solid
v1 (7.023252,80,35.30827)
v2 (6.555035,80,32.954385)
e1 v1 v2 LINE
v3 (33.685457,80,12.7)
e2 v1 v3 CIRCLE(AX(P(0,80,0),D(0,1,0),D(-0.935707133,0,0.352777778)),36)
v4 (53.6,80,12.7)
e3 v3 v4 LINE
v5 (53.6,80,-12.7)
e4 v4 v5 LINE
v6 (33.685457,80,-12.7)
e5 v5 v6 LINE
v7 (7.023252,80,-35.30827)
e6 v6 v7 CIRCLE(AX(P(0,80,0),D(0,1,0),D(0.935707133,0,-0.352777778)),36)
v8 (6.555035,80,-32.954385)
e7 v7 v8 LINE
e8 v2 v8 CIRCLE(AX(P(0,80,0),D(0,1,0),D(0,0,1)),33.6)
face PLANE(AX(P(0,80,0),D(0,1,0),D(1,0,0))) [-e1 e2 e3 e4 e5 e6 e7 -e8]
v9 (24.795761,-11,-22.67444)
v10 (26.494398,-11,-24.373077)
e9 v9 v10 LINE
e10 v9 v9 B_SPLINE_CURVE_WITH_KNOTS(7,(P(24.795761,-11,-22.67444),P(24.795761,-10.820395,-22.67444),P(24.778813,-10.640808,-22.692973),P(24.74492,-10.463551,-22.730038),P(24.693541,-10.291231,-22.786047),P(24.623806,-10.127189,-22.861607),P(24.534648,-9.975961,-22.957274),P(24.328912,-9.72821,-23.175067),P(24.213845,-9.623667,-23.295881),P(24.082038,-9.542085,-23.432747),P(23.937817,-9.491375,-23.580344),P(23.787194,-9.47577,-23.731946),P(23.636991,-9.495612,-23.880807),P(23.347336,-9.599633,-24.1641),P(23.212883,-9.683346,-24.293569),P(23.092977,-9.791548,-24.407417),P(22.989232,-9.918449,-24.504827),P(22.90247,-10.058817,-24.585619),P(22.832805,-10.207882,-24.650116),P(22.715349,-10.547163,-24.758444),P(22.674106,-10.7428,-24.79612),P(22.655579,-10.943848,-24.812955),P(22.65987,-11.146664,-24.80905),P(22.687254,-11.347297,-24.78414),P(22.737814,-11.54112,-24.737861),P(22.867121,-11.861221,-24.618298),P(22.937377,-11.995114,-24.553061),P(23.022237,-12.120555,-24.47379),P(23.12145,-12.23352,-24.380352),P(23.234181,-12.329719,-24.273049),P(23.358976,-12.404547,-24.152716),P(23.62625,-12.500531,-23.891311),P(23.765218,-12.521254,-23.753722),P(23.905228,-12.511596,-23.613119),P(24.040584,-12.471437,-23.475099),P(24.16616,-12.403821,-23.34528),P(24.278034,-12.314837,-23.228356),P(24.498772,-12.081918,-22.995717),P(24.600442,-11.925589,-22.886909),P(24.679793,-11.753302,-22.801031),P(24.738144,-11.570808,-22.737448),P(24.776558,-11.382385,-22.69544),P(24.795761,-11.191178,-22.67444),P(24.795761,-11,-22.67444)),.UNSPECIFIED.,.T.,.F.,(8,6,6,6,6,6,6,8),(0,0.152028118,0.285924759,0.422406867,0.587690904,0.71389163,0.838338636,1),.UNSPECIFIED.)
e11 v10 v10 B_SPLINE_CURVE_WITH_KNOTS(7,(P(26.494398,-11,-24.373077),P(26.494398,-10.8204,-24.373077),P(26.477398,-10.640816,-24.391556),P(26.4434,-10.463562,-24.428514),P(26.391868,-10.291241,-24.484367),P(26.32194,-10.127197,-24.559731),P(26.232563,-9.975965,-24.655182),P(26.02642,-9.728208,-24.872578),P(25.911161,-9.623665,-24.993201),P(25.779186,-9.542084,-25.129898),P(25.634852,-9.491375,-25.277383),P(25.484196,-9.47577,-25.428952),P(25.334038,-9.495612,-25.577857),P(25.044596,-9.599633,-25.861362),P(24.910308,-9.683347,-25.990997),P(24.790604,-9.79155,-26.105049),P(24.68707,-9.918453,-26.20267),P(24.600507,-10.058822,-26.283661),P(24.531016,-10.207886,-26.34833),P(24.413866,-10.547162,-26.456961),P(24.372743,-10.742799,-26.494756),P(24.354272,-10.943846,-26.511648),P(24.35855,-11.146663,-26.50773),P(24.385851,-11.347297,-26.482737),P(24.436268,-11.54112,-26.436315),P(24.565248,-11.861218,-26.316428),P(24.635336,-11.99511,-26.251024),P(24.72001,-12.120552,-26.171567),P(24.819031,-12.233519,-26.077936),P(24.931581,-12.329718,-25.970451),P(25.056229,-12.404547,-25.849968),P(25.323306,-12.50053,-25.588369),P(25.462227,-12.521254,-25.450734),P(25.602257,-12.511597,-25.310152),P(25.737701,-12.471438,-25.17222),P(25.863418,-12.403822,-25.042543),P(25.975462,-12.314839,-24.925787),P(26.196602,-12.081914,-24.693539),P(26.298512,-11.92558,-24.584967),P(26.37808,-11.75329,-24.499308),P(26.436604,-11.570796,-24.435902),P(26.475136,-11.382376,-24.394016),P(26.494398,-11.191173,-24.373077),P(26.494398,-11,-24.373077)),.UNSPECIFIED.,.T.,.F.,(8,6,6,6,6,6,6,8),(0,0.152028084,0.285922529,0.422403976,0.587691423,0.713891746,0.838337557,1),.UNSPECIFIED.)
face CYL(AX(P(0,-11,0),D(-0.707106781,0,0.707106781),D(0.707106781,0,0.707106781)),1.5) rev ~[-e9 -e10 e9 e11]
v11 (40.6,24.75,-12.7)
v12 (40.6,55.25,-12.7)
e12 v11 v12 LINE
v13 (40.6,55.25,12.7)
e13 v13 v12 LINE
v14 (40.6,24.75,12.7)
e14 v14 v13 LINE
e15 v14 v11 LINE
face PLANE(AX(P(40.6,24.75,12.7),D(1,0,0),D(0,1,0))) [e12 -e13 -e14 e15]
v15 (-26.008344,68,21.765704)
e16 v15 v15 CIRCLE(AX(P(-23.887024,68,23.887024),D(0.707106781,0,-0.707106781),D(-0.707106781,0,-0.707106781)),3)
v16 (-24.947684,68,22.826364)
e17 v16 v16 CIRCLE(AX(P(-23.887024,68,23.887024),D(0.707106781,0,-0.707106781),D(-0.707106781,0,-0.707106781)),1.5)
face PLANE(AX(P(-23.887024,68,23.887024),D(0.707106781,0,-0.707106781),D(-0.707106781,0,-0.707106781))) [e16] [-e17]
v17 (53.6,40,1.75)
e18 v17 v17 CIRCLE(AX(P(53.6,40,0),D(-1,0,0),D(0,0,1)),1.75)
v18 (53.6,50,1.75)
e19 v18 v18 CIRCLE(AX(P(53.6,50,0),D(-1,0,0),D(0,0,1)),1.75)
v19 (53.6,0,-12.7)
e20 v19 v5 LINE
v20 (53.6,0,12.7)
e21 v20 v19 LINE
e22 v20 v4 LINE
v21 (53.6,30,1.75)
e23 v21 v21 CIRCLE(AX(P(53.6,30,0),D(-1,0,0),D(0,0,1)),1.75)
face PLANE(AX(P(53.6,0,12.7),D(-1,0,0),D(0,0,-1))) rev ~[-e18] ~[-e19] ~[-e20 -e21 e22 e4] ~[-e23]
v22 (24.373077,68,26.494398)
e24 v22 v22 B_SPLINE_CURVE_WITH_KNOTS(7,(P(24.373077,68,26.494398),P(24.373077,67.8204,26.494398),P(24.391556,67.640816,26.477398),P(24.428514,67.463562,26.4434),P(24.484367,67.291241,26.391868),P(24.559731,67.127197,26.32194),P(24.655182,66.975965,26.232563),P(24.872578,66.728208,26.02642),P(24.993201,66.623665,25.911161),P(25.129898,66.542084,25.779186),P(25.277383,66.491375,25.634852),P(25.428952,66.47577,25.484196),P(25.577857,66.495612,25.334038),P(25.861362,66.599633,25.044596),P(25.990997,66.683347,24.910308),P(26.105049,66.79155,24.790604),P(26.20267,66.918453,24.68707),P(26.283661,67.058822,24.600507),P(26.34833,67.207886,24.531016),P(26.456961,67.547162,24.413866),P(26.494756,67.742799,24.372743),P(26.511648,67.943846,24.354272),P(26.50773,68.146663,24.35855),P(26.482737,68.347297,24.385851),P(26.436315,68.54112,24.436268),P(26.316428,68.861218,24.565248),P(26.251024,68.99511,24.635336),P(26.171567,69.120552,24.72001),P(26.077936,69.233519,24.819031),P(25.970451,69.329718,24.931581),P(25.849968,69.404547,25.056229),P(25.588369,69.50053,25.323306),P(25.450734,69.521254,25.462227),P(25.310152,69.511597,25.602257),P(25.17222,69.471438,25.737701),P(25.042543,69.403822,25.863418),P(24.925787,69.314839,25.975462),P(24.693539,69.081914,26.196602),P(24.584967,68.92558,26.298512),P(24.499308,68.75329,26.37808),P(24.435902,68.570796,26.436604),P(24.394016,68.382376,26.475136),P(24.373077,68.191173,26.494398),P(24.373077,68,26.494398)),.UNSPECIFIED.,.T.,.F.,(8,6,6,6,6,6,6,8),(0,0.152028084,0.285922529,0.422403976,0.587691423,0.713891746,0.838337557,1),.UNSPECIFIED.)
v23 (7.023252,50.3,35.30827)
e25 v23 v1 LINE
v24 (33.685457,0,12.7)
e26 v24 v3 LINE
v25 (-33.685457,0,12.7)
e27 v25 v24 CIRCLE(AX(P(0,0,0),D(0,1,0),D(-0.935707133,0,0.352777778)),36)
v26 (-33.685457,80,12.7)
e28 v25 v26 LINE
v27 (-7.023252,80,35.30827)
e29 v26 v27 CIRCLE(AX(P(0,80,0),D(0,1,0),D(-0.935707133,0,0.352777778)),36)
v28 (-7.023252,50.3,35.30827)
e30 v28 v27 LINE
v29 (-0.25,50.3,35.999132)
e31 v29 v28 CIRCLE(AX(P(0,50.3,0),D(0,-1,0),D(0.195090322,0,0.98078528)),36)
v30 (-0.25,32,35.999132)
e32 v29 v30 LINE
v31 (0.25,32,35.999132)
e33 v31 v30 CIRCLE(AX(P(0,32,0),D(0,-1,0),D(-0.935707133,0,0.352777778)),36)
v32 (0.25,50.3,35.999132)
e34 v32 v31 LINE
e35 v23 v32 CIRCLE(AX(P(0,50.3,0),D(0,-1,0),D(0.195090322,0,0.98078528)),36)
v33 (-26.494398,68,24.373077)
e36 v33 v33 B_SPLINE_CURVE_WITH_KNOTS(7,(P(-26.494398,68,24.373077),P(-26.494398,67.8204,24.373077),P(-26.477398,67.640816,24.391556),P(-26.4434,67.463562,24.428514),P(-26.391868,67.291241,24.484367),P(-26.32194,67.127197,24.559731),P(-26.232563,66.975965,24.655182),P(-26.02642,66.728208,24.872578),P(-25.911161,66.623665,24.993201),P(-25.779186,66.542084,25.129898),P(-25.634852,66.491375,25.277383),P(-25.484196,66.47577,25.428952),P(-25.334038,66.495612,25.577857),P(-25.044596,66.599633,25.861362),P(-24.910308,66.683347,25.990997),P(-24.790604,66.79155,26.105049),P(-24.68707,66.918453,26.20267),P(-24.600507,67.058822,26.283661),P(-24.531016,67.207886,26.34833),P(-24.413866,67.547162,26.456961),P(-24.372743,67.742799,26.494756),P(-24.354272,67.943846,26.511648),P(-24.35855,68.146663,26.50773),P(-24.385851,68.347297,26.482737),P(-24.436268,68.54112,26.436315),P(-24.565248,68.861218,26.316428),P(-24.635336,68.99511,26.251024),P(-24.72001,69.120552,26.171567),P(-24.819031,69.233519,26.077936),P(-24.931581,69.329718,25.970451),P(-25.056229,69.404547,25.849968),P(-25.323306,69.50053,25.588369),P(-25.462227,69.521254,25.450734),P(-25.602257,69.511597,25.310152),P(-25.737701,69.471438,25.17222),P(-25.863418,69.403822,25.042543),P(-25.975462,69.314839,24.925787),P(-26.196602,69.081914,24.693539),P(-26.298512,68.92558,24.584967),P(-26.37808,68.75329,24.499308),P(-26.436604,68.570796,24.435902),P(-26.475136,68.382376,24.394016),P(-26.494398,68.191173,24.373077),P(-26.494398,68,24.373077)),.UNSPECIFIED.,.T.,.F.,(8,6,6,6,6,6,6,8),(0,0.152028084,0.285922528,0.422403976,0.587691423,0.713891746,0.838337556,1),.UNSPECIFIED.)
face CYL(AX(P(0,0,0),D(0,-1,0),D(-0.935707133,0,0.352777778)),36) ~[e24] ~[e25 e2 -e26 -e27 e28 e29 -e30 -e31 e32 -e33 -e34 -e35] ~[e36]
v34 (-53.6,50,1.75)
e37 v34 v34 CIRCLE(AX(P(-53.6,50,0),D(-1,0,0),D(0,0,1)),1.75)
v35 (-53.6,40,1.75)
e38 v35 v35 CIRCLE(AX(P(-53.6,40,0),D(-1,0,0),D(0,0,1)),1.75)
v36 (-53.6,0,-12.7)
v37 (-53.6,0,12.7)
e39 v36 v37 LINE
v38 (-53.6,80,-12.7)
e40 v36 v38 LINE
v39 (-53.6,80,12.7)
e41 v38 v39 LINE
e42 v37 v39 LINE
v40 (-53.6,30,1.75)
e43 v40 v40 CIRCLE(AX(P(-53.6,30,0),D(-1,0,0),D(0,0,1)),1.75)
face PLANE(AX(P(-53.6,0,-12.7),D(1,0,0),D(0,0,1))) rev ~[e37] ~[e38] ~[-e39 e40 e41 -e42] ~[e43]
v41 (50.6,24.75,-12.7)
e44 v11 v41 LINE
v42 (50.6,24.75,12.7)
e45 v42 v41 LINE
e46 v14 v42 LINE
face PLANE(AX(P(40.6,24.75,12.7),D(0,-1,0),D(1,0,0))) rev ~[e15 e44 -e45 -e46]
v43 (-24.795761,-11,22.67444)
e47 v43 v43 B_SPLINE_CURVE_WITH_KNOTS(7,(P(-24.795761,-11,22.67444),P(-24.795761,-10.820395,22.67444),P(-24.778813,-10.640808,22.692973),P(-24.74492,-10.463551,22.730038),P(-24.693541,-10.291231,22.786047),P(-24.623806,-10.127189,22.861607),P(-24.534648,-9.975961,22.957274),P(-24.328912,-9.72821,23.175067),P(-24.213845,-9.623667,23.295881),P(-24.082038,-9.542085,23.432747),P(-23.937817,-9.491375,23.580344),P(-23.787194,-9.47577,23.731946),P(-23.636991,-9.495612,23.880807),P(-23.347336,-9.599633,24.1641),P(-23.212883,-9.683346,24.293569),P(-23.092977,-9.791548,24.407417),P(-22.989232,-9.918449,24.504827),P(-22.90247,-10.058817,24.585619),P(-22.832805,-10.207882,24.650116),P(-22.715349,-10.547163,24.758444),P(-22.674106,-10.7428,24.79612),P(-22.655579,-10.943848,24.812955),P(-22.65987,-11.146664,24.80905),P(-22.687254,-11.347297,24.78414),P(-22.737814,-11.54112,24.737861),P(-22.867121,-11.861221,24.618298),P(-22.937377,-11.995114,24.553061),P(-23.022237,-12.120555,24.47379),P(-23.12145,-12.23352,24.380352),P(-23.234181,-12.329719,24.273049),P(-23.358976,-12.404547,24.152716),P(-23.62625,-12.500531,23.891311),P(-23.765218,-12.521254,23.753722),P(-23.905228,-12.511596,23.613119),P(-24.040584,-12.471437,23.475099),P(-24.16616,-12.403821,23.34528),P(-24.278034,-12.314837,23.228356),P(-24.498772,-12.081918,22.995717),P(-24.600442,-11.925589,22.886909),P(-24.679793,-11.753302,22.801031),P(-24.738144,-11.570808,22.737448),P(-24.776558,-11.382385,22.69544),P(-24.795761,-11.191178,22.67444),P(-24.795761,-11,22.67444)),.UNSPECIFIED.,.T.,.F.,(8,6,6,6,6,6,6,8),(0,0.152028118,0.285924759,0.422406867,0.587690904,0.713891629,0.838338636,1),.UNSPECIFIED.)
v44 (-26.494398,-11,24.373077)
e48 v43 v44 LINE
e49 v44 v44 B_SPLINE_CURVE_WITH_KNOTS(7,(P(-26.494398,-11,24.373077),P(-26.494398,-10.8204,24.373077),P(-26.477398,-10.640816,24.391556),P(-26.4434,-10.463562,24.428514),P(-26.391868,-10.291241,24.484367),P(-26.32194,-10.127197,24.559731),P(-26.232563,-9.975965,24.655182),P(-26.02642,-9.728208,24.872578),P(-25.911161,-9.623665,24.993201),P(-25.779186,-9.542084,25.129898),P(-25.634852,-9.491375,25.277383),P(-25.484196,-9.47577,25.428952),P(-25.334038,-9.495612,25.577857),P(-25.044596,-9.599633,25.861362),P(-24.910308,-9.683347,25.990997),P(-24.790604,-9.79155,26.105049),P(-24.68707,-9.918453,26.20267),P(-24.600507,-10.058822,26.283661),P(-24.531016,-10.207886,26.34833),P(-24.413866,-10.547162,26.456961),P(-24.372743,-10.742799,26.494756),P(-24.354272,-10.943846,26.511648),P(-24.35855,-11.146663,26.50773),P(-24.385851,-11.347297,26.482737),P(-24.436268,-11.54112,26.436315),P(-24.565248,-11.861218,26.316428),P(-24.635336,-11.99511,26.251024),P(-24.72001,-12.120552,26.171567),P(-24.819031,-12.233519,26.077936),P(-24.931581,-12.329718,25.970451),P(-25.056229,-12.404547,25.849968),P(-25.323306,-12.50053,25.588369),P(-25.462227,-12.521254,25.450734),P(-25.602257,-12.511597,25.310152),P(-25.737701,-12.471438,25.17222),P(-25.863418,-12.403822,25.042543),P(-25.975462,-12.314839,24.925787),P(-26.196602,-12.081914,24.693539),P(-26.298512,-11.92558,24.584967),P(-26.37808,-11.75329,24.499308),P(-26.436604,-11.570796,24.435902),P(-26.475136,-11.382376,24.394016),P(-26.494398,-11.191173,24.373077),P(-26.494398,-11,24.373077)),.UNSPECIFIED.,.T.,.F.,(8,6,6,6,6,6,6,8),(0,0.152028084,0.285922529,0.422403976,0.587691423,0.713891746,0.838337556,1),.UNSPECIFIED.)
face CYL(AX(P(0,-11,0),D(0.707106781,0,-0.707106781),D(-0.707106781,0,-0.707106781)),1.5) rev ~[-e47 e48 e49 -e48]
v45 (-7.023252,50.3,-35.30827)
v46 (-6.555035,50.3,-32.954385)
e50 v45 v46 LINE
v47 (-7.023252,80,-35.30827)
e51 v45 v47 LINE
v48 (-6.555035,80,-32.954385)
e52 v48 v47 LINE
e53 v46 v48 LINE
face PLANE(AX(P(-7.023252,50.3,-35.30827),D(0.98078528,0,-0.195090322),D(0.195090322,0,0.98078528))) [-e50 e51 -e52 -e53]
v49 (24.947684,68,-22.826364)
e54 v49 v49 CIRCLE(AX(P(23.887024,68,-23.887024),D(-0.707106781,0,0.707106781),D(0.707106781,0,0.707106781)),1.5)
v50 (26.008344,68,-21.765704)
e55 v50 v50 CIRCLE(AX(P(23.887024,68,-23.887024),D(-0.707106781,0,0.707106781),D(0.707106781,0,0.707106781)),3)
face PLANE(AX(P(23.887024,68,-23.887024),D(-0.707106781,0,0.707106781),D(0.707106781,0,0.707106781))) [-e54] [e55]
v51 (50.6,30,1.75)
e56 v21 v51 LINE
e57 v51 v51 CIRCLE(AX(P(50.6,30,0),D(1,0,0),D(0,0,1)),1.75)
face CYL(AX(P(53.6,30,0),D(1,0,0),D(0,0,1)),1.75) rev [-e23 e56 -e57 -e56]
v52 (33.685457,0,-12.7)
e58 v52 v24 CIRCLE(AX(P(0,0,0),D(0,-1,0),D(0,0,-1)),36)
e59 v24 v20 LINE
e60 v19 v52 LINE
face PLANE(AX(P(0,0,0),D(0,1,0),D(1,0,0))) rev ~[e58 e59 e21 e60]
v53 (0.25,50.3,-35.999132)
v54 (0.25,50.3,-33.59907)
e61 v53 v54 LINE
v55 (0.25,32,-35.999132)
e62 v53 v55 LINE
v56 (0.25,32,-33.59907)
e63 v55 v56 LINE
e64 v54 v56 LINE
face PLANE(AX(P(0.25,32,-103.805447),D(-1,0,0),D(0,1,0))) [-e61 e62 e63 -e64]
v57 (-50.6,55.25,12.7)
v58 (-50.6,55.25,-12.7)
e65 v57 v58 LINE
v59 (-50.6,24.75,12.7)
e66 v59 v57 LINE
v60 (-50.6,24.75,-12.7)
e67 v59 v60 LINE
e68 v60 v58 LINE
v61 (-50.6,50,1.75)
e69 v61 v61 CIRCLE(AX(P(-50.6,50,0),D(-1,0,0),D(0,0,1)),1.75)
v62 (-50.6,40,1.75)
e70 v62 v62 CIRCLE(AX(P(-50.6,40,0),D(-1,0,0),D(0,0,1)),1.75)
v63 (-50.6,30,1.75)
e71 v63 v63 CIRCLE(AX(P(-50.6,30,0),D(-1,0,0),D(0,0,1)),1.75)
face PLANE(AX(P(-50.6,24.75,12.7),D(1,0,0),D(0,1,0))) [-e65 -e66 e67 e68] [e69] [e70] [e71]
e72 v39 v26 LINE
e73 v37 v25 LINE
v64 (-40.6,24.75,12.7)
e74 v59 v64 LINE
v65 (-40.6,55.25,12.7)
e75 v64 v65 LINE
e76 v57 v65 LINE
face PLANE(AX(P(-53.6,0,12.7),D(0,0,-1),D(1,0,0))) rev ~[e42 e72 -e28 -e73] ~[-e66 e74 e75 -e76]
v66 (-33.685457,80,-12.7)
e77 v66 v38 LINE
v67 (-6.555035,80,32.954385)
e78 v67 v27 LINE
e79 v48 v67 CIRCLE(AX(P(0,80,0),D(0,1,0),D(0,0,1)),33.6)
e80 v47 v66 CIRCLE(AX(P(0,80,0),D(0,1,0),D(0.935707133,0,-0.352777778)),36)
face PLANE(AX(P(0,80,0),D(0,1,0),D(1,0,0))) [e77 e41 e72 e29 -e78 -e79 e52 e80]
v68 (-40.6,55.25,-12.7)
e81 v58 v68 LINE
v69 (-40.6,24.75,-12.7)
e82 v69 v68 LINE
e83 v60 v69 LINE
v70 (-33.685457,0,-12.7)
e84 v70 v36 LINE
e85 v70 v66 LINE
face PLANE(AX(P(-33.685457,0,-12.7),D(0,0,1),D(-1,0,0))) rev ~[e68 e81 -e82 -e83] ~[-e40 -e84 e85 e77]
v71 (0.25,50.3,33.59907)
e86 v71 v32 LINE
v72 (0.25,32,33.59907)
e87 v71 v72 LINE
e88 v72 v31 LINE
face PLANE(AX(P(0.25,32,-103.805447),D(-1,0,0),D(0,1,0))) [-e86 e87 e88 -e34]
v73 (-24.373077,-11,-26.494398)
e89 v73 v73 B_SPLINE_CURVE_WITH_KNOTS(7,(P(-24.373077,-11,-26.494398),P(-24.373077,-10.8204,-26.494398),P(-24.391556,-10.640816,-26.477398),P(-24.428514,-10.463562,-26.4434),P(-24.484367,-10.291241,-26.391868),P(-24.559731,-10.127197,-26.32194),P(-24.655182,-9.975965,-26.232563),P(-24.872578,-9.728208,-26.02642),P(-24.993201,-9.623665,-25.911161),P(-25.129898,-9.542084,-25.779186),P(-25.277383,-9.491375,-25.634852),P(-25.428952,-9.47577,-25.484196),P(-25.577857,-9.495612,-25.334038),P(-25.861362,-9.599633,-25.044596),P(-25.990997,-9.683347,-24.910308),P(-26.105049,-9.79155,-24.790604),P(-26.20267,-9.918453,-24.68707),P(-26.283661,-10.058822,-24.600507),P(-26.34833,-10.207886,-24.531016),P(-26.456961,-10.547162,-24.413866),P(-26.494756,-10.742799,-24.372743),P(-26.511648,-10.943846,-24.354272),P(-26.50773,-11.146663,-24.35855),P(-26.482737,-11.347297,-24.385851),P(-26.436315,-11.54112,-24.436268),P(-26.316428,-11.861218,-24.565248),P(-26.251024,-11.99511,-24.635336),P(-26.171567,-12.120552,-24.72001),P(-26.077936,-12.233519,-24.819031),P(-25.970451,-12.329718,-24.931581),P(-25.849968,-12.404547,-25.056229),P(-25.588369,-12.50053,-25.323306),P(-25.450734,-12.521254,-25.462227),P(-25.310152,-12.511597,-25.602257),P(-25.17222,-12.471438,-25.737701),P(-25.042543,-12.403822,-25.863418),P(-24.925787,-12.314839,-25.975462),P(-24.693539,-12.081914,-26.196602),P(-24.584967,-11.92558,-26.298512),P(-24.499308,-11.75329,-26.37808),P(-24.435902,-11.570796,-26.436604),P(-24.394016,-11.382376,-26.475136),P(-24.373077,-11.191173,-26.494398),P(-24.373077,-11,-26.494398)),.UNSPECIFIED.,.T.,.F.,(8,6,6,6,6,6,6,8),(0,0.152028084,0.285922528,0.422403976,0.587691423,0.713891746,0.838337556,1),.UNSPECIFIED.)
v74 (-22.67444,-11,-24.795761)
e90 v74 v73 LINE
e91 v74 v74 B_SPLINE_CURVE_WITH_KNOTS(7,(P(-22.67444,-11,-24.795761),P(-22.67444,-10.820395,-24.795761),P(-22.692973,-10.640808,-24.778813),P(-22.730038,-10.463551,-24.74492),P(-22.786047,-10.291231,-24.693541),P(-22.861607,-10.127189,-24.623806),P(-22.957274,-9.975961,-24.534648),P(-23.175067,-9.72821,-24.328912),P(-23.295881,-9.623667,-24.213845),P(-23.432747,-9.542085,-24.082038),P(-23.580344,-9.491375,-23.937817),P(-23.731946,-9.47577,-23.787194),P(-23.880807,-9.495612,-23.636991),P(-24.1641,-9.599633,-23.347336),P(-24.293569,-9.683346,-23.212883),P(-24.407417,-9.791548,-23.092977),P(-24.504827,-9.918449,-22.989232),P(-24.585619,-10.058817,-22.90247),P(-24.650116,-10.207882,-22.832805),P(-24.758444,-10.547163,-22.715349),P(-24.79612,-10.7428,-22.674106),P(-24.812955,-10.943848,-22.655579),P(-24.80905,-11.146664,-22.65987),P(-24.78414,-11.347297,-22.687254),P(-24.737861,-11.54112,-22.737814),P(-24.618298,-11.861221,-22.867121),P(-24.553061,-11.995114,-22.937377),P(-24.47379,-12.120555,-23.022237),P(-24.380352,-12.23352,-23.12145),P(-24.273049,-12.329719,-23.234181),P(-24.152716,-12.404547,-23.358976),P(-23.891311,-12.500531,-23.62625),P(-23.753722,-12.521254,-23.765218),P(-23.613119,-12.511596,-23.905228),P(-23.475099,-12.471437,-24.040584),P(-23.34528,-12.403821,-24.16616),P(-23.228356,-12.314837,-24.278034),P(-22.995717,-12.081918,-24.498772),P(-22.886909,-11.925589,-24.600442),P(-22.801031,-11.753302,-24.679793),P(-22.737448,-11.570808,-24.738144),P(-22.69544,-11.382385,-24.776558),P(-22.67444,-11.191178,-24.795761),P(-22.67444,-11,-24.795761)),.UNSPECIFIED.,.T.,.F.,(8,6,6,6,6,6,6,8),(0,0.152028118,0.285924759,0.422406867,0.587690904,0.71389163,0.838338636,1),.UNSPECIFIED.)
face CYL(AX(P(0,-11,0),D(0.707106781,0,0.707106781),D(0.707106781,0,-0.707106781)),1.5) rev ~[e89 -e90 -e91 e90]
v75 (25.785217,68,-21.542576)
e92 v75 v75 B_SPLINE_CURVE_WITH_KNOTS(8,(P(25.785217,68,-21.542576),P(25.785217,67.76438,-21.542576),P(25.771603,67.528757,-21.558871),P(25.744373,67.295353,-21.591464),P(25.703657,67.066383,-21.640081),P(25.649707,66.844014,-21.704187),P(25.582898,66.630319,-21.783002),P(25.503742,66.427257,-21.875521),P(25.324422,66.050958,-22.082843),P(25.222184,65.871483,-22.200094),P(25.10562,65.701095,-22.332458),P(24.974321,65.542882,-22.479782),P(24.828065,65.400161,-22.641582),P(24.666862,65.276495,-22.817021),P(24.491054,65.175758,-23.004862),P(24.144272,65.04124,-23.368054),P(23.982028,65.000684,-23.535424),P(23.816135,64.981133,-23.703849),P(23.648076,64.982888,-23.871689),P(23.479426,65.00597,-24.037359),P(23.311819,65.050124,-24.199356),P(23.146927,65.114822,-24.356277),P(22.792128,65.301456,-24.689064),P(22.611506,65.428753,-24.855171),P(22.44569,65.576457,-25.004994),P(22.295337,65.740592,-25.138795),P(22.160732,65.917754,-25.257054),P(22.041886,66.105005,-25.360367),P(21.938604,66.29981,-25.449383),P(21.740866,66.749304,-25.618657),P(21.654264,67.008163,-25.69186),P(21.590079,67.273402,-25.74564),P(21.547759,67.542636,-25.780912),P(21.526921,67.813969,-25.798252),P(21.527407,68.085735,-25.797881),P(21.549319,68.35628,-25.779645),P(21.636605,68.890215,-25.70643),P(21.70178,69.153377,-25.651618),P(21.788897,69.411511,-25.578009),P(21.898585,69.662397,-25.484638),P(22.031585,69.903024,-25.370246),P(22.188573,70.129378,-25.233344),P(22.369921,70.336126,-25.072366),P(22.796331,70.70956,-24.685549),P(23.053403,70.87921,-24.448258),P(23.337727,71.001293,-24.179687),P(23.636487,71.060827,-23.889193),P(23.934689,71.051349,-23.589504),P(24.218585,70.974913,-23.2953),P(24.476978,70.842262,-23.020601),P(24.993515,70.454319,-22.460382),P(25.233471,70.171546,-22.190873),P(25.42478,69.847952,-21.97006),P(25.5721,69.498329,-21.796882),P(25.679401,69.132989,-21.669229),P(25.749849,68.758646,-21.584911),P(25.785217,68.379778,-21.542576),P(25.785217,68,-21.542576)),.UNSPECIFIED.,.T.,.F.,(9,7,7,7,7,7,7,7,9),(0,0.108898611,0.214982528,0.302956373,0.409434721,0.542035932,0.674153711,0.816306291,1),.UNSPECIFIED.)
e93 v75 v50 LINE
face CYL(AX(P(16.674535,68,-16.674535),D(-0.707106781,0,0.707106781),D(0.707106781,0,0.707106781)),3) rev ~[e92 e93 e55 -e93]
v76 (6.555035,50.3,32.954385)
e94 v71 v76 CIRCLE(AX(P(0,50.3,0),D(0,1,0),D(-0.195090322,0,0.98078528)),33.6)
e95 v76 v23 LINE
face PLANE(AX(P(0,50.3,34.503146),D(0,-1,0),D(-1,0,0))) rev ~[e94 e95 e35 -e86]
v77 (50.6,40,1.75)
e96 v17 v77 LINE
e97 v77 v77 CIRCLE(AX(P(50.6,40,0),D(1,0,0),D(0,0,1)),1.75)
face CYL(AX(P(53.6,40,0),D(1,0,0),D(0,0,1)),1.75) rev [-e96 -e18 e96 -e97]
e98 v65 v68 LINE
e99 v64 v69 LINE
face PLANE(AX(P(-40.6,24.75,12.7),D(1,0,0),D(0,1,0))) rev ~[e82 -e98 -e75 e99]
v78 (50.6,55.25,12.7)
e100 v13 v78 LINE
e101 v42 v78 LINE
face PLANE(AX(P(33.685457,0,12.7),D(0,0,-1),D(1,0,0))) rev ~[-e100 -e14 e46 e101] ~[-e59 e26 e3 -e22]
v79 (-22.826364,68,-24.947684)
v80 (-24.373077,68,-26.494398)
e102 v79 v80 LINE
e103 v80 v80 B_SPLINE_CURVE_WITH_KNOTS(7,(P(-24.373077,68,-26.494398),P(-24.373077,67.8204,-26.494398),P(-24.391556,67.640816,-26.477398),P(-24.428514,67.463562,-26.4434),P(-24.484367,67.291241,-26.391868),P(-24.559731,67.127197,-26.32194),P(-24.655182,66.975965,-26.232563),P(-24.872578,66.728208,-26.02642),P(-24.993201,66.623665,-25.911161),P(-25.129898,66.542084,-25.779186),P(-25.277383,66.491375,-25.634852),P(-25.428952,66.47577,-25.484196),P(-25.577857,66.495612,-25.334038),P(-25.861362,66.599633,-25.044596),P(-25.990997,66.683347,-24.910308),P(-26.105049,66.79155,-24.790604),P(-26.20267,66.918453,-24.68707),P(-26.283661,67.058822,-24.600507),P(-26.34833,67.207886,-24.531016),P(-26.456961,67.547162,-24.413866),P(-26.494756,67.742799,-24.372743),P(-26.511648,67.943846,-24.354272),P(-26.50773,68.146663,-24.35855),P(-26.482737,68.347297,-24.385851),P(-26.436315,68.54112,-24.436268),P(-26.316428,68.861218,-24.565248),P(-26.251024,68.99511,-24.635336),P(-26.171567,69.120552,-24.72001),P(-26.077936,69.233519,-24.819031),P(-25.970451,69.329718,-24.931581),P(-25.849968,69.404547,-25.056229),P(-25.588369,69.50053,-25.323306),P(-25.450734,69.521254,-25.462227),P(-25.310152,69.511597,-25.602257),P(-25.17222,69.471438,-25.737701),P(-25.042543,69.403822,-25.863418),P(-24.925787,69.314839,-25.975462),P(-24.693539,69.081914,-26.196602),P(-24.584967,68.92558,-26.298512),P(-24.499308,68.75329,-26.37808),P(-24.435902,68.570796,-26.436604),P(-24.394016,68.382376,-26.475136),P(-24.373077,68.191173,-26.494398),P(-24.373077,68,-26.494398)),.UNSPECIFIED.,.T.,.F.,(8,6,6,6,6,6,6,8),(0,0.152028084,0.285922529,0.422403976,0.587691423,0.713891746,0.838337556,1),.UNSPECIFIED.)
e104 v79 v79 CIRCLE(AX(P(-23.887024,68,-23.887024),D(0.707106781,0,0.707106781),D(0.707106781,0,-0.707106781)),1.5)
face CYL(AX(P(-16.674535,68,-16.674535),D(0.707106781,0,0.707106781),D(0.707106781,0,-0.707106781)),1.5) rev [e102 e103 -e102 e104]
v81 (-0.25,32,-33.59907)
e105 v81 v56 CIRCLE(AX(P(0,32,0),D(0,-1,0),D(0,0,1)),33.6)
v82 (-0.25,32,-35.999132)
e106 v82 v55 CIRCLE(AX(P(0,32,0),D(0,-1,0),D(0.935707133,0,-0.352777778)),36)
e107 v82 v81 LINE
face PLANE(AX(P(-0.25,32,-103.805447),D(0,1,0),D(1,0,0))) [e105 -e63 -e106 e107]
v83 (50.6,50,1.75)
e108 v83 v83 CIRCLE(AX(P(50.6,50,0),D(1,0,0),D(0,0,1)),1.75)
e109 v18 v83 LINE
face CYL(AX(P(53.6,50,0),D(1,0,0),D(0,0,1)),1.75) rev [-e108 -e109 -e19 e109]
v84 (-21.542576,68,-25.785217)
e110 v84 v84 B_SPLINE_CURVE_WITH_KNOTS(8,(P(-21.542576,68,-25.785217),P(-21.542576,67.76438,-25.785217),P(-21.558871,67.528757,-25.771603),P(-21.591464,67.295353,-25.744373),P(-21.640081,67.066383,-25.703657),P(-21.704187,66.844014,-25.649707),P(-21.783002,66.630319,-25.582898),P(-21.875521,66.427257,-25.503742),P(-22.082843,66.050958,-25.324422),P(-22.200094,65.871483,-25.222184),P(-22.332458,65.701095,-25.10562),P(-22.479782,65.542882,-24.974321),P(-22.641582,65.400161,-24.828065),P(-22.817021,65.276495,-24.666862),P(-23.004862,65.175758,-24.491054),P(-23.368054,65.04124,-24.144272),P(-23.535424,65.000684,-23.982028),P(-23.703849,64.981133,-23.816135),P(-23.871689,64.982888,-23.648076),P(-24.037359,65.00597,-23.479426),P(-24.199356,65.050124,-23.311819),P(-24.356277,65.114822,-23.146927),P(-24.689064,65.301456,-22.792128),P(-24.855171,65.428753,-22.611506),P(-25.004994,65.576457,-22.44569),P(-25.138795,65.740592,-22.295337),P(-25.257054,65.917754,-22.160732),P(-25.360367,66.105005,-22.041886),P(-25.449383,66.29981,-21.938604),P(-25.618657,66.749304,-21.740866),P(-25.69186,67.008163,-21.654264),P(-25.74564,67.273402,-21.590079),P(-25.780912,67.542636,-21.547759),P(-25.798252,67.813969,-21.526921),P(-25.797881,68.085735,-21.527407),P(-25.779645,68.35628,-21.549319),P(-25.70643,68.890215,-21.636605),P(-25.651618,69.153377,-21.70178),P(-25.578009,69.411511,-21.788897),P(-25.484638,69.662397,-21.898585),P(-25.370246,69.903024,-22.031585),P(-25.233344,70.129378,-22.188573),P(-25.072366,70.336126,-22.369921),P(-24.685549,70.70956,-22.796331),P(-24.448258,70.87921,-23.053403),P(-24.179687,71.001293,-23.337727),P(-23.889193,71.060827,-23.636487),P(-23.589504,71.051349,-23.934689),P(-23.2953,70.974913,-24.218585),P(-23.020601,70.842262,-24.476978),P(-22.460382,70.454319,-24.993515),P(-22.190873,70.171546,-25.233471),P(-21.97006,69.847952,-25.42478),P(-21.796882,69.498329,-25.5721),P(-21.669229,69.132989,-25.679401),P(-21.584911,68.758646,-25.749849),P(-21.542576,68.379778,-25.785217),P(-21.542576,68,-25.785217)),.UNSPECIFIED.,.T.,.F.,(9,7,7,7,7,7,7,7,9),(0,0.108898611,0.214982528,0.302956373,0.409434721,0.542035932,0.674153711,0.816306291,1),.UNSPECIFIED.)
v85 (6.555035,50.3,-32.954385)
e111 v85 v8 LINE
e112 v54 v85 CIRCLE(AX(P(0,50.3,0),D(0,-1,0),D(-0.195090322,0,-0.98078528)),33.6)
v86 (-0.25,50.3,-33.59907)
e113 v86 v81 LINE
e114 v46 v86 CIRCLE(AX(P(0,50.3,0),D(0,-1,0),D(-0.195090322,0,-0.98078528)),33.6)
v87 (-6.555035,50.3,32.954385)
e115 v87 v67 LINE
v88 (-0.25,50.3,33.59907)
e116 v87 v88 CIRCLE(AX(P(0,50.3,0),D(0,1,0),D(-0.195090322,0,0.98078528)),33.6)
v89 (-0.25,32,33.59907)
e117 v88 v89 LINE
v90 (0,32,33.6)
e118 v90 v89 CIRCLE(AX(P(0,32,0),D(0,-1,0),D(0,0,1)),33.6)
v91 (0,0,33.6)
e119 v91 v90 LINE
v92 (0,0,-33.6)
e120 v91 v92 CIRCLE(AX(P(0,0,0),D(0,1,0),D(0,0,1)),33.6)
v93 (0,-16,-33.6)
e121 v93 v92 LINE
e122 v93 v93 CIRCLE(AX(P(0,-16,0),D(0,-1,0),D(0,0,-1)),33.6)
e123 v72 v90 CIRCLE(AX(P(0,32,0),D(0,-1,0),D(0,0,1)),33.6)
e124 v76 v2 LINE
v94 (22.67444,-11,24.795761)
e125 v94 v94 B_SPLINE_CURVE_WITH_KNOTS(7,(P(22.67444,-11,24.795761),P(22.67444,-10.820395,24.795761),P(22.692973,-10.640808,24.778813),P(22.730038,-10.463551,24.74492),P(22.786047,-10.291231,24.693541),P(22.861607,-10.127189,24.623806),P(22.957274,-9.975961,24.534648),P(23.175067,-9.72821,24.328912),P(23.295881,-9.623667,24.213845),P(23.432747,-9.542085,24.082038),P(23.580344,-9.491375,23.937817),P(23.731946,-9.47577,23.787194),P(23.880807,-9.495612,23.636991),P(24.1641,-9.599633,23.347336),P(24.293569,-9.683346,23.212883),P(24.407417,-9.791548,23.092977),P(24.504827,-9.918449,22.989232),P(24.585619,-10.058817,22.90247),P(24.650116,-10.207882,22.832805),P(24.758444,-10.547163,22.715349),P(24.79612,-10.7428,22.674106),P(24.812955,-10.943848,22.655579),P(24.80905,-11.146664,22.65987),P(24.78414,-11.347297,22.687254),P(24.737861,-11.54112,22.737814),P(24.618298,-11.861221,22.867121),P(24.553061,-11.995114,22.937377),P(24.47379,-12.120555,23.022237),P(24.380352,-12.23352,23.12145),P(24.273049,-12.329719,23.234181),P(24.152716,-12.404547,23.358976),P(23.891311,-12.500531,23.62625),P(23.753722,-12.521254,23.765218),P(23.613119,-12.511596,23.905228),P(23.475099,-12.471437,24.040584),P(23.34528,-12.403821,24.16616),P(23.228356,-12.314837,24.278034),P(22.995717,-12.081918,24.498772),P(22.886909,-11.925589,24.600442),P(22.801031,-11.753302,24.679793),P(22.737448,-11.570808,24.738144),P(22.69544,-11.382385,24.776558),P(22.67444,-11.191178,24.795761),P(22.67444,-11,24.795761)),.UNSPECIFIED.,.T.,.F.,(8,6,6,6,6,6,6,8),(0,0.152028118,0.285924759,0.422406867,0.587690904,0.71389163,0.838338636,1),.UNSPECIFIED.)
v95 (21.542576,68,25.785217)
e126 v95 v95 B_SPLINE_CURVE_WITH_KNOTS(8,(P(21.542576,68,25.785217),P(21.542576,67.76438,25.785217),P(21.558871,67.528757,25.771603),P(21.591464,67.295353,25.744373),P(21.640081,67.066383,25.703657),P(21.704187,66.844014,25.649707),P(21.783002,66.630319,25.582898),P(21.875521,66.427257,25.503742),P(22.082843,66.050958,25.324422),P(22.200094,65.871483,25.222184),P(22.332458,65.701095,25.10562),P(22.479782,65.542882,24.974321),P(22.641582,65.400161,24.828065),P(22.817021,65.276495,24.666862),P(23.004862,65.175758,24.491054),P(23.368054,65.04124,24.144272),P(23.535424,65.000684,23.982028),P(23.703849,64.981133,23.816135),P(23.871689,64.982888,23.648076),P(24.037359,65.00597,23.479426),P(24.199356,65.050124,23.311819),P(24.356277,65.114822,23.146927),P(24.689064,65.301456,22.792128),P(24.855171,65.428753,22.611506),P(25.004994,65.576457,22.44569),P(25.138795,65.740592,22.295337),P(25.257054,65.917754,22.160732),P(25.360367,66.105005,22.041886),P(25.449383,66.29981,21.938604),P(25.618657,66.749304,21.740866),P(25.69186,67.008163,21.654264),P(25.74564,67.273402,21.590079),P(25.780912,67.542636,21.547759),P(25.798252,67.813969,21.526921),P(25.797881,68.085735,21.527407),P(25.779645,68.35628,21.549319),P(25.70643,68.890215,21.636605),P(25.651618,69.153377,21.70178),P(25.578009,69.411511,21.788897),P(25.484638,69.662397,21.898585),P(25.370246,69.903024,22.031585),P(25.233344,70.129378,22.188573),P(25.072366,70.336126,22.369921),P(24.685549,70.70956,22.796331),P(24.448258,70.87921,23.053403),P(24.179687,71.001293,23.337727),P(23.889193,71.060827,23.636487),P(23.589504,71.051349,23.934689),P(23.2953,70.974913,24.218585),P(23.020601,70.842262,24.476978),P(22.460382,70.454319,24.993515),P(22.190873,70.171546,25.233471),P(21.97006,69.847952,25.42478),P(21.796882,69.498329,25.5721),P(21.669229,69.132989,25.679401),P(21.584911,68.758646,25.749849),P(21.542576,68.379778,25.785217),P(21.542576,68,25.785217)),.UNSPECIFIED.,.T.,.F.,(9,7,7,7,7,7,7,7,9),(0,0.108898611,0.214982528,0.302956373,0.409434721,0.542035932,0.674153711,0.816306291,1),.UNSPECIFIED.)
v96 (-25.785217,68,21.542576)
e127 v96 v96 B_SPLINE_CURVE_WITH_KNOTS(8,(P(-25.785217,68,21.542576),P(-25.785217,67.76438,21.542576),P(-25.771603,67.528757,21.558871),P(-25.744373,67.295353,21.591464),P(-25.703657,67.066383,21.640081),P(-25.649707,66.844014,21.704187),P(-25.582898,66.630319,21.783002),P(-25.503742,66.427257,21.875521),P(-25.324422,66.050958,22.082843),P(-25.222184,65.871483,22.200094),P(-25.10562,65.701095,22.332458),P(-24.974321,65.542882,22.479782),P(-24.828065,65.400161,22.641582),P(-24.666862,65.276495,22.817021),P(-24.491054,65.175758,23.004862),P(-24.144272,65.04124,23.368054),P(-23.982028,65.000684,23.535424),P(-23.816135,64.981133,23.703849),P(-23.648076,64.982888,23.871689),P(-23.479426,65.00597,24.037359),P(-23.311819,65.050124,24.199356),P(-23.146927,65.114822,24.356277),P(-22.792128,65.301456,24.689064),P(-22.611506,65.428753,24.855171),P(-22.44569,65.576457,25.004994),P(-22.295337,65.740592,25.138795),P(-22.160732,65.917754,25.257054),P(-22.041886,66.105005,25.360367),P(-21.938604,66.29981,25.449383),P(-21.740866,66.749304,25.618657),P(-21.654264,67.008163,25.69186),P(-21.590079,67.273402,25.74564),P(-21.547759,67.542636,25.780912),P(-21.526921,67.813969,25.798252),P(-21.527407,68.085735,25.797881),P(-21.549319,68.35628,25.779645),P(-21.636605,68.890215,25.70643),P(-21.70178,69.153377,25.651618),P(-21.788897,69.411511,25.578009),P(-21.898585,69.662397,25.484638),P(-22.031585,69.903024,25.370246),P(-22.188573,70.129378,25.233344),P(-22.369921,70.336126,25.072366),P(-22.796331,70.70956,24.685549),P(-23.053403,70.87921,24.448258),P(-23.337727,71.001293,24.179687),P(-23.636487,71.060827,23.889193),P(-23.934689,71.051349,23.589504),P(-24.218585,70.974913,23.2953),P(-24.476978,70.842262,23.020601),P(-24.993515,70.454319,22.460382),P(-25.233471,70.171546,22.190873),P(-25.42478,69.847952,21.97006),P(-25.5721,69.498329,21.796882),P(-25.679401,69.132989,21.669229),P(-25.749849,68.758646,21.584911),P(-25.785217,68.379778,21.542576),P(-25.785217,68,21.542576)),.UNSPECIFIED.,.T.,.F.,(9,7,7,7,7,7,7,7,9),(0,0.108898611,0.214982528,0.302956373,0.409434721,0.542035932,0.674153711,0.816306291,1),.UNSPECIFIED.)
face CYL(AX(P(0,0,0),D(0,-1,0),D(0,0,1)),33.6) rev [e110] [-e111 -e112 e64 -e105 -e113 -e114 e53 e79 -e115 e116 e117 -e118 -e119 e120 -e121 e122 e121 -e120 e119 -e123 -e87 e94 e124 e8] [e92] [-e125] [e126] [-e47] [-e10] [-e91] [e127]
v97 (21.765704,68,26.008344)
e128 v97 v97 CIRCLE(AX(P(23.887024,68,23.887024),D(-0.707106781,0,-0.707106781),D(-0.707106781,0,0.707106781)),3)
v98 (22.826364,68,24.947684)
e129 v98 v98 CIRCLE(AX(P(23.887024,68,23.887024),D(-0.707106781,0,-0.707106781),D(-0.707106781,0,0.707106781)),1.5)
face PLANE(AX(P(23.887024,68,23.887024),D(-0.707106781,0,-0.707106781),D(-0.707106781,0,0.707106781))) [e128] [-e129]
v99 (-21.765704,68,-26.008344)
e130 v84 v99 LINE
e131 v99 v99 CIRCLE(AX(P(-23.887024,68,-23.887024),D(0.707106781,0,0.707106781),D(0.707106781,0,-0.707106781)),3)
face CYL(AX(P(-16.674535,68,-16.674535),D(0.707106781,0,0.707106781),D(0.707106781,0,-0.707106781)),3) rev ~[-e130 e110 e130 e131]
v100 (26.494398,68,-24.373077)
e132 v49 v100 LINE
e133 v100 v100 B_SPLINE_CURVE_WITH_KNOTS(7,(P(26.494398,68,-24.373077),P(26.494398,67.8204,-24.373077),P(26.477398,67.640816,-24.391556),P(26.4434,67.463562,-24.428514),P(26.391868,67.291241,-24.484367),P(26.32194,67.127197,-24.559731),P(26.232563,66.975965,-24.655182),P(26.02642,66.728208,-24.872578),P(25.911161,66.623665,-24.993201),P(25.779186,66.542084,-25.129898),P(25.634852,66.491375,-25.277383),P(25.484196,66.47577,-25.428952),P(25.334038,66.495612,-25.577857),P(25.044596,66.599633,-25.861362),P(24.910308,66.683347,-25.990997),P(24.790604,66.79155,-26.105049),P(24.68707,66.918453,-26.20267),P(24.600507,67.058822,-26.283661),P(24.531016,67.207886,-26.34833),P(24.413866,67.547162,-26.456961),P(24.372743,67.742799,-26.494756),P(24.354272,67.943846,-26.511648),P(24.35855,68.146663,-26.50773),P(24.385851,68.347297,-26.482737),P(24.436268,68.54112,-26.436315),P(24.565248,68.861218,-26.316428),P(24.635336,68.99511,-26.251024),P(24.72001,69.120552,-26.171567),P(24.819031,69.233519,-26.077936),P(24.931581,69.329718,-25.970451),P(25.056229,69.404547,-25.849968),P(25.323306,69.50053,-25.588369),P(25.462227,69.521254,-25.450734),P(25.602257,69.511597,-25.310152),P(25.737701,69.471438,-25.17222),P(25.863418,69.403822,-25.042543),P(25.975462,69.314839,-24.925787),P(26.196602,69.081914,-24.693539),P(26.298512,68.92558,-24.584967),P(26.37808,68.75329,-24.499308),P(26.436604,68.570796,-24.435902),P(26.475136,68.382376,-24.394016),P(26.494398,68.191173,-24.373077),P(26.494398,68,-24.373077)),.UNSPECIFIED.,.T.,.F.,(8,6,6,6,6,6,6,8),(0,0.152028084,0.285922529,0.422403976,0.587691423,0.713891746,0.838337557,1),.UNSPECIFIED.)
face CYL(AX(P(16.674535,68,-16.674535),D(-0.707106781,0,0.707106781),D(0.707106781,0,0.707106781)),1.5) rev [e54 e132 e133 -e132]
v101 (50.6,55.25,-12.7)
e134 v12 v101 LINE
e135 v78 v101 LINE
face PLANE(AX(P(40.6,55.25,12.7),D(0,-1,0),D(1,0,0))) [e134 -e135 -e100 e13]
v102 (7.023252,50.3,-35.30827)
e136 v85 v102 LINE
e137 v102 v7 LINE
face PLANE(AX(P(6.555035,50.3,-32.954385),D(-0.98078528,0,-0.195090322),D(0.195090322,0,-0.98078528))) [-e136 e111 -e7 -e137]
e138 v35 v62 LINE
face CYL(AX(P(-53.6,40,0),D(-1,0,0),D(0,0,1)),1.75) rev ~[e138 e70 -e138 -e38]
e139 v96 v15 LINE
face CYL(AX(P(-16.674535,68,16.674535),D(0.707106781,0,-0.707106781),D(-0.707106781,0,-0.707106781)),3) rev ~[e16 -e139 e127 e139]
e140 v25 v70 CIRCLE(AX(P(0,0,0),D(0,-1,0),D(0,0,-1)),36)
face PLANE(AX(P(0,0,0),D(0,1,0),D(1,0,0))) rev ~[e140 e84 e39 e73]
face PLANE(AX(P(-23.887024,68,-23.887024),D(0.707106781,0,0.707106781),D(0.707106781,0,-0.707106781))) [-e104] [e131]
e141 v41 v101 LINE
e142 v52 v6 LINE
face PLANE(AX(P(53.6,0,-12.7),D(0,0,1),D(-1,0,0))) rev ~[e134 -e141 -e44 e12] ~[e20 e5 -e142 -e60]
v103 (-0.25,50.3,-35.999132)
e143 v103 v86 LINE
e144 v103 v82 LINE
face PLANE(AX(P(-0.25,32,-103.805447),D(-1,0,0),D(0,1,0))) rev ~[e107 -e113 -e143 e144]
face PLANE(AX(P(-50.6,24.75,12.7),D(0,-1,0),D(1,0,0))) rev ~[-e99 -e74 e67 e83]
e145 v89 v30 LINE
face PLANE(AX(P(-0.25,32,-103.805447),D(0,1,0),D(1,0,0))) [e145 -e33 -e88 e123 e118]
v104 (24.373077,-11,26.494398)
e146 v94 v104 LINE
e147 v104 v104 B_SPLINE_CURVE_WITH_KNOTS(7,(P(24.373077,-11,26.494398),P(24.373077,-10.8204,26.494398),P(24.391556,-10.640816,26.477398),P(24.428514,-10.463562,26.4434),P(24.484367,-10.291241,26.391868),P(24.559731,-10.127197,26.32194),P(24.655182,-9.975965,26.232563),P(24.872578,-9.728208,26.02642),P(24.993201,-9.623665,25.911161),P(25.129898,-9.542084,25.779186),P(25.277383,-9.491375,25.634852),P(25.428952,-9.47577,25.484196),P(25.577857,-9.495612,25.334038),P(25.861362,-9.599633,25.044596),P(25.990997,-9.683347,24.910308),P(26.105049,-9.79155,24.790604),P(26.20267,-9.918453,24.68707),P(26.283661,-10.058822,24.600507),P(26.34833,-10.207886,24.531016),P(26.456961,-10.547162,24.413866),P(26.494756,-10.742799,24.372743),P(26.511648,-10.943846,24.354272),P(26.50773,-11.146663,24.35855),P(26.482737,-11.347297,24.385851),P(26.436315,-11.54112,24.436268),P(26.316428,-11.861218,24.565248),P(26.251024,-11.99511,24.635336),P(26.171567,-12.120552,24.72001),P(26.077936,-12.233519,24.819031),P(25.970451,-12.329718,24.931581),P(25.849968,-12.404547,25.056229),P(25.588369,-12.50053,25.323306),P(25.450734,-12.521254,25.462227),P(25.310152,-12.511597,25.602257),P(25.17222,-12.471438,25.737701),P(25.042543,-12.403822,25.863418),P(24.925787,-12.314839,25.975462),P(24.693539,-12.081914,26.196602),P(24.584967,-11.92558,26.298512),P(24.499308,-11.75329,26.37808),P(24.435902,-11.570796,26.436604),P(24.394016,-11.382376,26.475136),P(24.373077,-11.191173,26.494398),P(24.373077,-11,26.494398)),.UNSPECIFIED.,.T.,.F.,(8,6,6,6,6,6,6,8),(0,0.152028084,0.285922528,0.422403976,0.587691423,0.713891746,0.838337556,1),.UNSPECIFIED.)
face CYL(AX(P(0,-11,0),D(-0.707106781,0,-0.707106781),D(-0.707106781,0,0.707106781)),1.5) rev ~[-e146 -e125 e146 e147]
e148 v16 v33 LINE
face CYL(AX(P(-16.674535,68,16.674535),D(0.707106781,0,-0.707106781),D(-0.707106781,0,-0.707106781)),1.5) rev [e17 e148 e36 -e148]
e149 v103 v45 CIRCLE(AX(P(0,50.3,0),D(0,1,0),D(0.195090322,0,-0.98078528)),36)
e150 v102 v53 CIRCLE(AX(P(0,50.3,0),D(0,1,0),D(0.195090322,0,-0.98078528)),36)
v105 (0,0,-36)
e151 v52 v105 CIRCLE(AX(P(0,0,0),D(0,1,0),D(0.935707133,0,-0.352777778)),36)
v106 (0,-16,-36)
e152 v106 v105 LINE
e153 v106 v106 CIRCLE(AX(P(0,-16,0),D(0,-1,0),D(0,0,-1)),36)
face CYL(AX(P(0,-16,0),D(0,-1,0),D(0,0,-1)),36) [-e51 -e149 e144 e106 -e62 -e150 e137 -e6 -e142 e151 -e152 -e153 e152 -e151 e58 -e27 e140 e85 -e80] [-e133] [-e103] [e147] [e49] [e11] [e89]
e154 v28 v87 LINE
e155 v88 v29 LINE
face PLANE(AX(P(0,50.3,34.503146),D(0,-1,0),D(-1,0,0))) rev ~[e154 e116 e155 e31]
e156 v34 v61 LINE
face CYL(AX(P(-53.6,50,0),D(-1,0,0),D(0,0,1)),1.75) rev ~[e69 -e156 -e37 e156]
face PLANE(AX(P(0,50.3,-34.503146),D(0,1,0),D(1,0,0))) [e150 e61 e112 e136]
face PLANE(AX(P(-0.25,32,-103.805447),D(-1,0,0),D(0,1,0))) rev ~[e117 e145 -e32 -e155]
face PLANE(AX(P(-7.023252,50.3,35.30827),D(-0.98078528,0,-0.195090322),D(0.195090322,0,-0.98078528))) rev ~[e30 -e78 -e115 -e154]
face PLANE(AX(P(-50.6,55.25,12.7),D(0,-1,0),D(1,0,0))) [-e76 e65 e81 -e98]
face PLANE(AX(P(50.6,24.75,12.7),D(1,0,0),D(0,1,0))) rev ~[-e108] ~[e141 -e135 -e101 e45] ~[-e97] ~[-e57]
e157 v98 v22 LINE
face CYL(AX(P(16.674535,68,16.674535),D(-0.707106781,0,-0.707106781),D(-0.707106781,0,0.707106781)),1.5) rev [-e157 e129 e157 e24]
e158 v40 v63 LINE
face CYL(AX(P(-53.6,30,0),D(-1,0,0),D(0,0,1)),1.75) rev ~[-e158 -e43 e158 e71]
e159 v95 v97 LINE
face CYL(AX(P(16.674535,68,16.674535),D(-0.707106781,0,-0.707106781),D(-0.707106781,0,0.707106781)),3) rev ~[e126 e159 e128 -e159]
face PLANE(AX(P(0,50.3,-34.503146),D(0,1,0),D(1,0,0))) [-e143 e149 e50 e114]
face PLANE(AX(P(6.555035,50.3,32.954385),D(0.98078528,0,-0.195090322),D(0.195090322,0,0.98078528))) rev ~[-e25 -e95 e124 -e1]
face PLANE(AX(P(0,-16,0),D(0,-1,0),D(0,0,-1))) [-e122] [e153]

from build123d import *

# Parameters (mm, degrees)
SKETCH1_R                = 33.6
BOSS_EXTRUDE2_DEPTH      = 80
CUT_EXTRUDE3_DEPTH       = 103.805447326
CUT_EXTRUDE3_DEPTH_BACK  = 29.7
CUT_EXTRUDE4_DEPTH       = 103.805447326
CUT_EXTRUDE4_DEPTH_BACK  = 103.805447326
SKETCH7_W                = 0.5
SKETCH7_H                = 18.3
SKETCH9_W                = 10
SKETCH9_H                = 30.5
CUT_EXTRUDE5_DEPTH       = 108.910379482
SKETCH10_R               = 1.75
CUT_EXTRUDE6_DEPTH       = 10
BOSS_EXTRUDE3_REACH      = 120.799
BOSS_EXTRUDE3_END_RADIUS = 33.6
SKETCH11_R               = 3
SKETCH12_R               = 3
CUT_EXTRUDE7_DEPTH       = 10.2
SKETCH13_R               = 1.5
CUT_EXTRUDE9_DEPTH       = 119.798640203
CIRPATTERN1_COUNT        = 4
BOSS_EXTRUDE4_START      = 16
SKETCH14_R               = 36
SKETCH14_R_2             = 33.6
BOSS_EXTRUDE4_DEPTH      = 16
SKETCH17_R               = 1.5
CUT_EXTRUDE10_DEPTH      = 103.805447439
CIRPATTERN2_COUNT        = 4


with BuildPart() as part:
    # Sketch1 → Boss-Extrude2 (new body)
    with BuildSketch(Plane(origin=(0, 0, 0), x_dir=(1, 0, 0), z_dir=(0, 1, 0))):
        with BuildLine():
            ThreePointArc((33.685456803, 12.7), (0, 36), (-33.685456803, 12.7))
            Line((-33.685456803, 12.7), (-53.6, 12.7))
            Line((-53.6, 12.7), (-53.6, -12.7))
            Line((-53.6, -12.7), (-33.685456803, -12.7))
            ThreePointArc((-33.685456803, -12.7), (0, -36), (33.685456803, -12.7))
            Line((33.685456803, -12.7), (53.6, -12.7))
            Line((53.6, -12.7), (53.6, 12.7))
            Line((53.6, 12.7), (33.685456803, 12.7))
        make_face()
        with Locations(Location((0, 0, 0), (0, 0, 270))):
            Circle(SKETCH1_R, mode=Mode.SUBTRACT)
    extrude(amount=BOSS_EXTRUDE2_DEPTH)

    # Sketch6 → Cut-Extrude3 (cut, two sides: drawn at the far end of the back side and taken through both)
    with BuildSketch(Plane(origin=(0, 80, 0), x_dir=(1, 0, 0), z_dir=(0, 1, 0)).offset(-CUT_EXTRUDE3_DEPTH_BACK)):
        with BuildLine():
            Line((-7.023251593, 35.308270095), (-6.55503482, 32.954385422))
            ThreePointArc((-6.55503482, 32.954385422), (0, 33.6), (6.55503482, 32.954385422))
            Line((6.55503482, 32.954385422), (7.023251593, 35.308270095))
            ThreePointArc((7.023251593, 35.308270095), (0, 36), (-7.023251593, 35.308270095))
        make_face()
        with BuildLine():
            Line((-7.023251593, -35.308270095), (-6.55503482, -32.954385422))
            ThreePointArc((-6.55503482, -32.954385422), (0, -33.6), (6.55503482, -32.954385422))
            Line((6.55503482, -32.954385422), (7.023251593, -35.308270095))
            ThreePointArc((7.023251593, -35.308270095), (0, -36), (-7.023251593, -35.308270095))
        make_face()
    extrude(amount=CUT_EXTRUDE3_DEPTH + CUT_EXTRUDE3_DEPTH_BACK, mode=Mode.SUBTRACT)

    # Sketch7 → Cut-Extrude4 (cut, two sides: drawn at the far end of the back side and taken through both)
    with BuildSketch(Plane.XY.offset(-CUT_EXTRUDE4_DEPTH_BACK)):
        with Locations((0, 41.15)):
            Rectangle(SKETCH7_W, SKETCH7_H)
    extrude(amount=CUT_EXTRUDE4_DEPTH + CUT_EXTRUDE4_DEPTH_BACK, mode=Mode.SUBTRACT)

    # Sketch9 → Cut-Extrude5 (cut, through all)
    with BuildSketch(Plane.XY.offset(12.7)):
        with Locations((-45.6, 40)):
            Rectangle(SKETCH9_W, SKETCH9_H)
        with Locations((45.6, 40)):
            Rectangle(SKETCH9_W, SKETCH9_H)
    extrude(amount=-CUT_EXTRUDE5_DEPTH, mode=Mode.SUBTRACT)

    # Sketch10 → Cut-Extrude6 (cut)
    with BuildSketch(Plane.ZY.offset(53.6)):
        with Locations((0, 40)):
            Circle(SKETCH10_R)
        with Locations((0, 50)):
            Circle(SKETCH10_R)
        with Locations((0, 30)):
            Circle(SKETCH10_R)
    cut_extrude6 = extrude(amount=-CUT_EXTRUDE6_DEPTH, mode=Mode.SUBTRACT)

    # Mirror1: Cut-Extrude6 across plane
    add(cut_extrude6.mirror(Plane(origin=(0, 0, 0), x_dir=(0, 0, 1), z_dir=(1, 0, 0))), mode=Mode.SUBTRACT)

    # Boss-Extrude3: up to this cylinder (the profile starts inside it)
    boss_extrude3_end = Plane(origin=(0, 68, 0), z_dir=(0, -1, 0)) * Cylinder(BOSS_EXTRUDE3_END_RADIUS, 309.798, mode=Mode.PRIVATE)
    # Sketch11 → Boss-Extrude3 (add, up to the surface)
    with BuildSketch(Plane(origin=(16.674534964, 0, 16.674534964), x_dir=(0, 1, 0), z_dir=(0.7071067811865488, 0, 0.7071067811865464)), mode=Mode.PRIVATE) as boss_extrude3_sk1:
        with Locations(Location((68, 0, 0), (0, 0, 90))):
            Circle(SKETCH11_R)
    boss_extrude3_tool1 = extrude(boss_extrude3_sk1.sketch, amount=BOSS_EXTRUDE3_REACH, mode=Mode.PRIVATE) & boss_extrude3_end
    boss_extrude3 = boss_extrude3_tool1.solids().sort_by_distance((16.674535, 68, 16.674535))[0]
    add(boss_extrude3)

    # Sketch12 → Cut-Extrude7 (cut)
    with BuildSketch(Plane(origin=(16.674534964, 0, 16.674534964), x_dir=(-0.7071067811865465, 0, 0.7071067811865487), z_dir=(-0.7071067811865487, 0, -0.7071067811865465))):
        with Locations((0, 68)):
            Circle(SKETCH12_R)
    cut_extrude7 = extrude(amount=-CUT_EXTRUDE7_DEPTH, mode=Mode.SUBTRACT)

    # Sketch13 → Cut-Extrude9 (cut, through all)
    with BuildSketch(Plane(origin=(16.674534964, 0, 16.674534964), x_dir=(0, 1, 0), z_dir=(0.7071067811865488, 0, 0.7071067811865464))):
        with Locations(Location((68, 0, 0), (0, 0, 90))):
            Circle(SKETCH13_R)
    cut_extrude9 = extrude(amount=CUT_EXTRUDE9_DEPTH, mode=Mode.SUBTRACT)

    # CirPattern1: Boss-Extrude3, Cut-Extrude7, Cut-Extrude9 ×4 about axis
    cirpattern1_axis = Axis((0, 0, 0), (0, 1, 0))
    add([boss_extrude3.rotate(cirpattern1_axis, i * 360 / CIRPATTERN1_COUNT) for i in range(1, CIRPATTERN1_COUNT)])
    add([cut_extrude7.rotate(cirpattern1_axis, i * 360 / CIRPATTERN1_COUNT) for i in range(1, CIRPATTERN1_COUNT)], mode=Mode.SUBTRACT)
    add([cut_extrude9.rotate(cirpattern1_axis, i * 360 / CIRPATTERN1_COUNT) for i in range(1, CIRPATTERN1_COUNT)], mode=Mode.SUBTRACT)

    # Sketch14 → Boss-Extrude4 (add)
    with BuildSketch(Plane.XZ.offset(BOSS_EXTRUDE4_START)):
        with Locations(Location((0, 0, 0), (0, 0, 270))):
            Circle(SKETCH14_R)
        with Locations(Location((0, 0, 0), (0, 0, 270))):
            Circle(SKETCH14_R_2, mode=Mode.SUBTRACT)
    extrude(amount=-BOSS_EXTRUDE4_DEPTH)

    # Sketch17 → Cut-Extrude10 (cut, through all)
    with BuildSketch(Plane(origin=(0, 0, 0), x_dir=(0, 1, 0), z_dir=(0.7071067811865488, 0, 0.7071067811865464))):
        with Locations(Location((-11, 0, 0), (0, 0, 270))):
            Circle(SKETCH17_R)
    cut_extrude10 = extrude(amount=-CUT_EXTRUDE10_DEPTH, mode=Mode.SUBTRACT)

    # CirPattern2: Cut-Extrude10 ×4 about axis
    cirpattern2_axis = Axis((0, 80, 0), (0, -1, 0))
    for i in range(1, CIRPATTERN2_COUNT):
        add(cut_extrude10.rotate(cirpattern2_axis, i * 360 / CIRPATTERN2_COUNT), mode=Mode.SUBTRACT)


solid = part.part
